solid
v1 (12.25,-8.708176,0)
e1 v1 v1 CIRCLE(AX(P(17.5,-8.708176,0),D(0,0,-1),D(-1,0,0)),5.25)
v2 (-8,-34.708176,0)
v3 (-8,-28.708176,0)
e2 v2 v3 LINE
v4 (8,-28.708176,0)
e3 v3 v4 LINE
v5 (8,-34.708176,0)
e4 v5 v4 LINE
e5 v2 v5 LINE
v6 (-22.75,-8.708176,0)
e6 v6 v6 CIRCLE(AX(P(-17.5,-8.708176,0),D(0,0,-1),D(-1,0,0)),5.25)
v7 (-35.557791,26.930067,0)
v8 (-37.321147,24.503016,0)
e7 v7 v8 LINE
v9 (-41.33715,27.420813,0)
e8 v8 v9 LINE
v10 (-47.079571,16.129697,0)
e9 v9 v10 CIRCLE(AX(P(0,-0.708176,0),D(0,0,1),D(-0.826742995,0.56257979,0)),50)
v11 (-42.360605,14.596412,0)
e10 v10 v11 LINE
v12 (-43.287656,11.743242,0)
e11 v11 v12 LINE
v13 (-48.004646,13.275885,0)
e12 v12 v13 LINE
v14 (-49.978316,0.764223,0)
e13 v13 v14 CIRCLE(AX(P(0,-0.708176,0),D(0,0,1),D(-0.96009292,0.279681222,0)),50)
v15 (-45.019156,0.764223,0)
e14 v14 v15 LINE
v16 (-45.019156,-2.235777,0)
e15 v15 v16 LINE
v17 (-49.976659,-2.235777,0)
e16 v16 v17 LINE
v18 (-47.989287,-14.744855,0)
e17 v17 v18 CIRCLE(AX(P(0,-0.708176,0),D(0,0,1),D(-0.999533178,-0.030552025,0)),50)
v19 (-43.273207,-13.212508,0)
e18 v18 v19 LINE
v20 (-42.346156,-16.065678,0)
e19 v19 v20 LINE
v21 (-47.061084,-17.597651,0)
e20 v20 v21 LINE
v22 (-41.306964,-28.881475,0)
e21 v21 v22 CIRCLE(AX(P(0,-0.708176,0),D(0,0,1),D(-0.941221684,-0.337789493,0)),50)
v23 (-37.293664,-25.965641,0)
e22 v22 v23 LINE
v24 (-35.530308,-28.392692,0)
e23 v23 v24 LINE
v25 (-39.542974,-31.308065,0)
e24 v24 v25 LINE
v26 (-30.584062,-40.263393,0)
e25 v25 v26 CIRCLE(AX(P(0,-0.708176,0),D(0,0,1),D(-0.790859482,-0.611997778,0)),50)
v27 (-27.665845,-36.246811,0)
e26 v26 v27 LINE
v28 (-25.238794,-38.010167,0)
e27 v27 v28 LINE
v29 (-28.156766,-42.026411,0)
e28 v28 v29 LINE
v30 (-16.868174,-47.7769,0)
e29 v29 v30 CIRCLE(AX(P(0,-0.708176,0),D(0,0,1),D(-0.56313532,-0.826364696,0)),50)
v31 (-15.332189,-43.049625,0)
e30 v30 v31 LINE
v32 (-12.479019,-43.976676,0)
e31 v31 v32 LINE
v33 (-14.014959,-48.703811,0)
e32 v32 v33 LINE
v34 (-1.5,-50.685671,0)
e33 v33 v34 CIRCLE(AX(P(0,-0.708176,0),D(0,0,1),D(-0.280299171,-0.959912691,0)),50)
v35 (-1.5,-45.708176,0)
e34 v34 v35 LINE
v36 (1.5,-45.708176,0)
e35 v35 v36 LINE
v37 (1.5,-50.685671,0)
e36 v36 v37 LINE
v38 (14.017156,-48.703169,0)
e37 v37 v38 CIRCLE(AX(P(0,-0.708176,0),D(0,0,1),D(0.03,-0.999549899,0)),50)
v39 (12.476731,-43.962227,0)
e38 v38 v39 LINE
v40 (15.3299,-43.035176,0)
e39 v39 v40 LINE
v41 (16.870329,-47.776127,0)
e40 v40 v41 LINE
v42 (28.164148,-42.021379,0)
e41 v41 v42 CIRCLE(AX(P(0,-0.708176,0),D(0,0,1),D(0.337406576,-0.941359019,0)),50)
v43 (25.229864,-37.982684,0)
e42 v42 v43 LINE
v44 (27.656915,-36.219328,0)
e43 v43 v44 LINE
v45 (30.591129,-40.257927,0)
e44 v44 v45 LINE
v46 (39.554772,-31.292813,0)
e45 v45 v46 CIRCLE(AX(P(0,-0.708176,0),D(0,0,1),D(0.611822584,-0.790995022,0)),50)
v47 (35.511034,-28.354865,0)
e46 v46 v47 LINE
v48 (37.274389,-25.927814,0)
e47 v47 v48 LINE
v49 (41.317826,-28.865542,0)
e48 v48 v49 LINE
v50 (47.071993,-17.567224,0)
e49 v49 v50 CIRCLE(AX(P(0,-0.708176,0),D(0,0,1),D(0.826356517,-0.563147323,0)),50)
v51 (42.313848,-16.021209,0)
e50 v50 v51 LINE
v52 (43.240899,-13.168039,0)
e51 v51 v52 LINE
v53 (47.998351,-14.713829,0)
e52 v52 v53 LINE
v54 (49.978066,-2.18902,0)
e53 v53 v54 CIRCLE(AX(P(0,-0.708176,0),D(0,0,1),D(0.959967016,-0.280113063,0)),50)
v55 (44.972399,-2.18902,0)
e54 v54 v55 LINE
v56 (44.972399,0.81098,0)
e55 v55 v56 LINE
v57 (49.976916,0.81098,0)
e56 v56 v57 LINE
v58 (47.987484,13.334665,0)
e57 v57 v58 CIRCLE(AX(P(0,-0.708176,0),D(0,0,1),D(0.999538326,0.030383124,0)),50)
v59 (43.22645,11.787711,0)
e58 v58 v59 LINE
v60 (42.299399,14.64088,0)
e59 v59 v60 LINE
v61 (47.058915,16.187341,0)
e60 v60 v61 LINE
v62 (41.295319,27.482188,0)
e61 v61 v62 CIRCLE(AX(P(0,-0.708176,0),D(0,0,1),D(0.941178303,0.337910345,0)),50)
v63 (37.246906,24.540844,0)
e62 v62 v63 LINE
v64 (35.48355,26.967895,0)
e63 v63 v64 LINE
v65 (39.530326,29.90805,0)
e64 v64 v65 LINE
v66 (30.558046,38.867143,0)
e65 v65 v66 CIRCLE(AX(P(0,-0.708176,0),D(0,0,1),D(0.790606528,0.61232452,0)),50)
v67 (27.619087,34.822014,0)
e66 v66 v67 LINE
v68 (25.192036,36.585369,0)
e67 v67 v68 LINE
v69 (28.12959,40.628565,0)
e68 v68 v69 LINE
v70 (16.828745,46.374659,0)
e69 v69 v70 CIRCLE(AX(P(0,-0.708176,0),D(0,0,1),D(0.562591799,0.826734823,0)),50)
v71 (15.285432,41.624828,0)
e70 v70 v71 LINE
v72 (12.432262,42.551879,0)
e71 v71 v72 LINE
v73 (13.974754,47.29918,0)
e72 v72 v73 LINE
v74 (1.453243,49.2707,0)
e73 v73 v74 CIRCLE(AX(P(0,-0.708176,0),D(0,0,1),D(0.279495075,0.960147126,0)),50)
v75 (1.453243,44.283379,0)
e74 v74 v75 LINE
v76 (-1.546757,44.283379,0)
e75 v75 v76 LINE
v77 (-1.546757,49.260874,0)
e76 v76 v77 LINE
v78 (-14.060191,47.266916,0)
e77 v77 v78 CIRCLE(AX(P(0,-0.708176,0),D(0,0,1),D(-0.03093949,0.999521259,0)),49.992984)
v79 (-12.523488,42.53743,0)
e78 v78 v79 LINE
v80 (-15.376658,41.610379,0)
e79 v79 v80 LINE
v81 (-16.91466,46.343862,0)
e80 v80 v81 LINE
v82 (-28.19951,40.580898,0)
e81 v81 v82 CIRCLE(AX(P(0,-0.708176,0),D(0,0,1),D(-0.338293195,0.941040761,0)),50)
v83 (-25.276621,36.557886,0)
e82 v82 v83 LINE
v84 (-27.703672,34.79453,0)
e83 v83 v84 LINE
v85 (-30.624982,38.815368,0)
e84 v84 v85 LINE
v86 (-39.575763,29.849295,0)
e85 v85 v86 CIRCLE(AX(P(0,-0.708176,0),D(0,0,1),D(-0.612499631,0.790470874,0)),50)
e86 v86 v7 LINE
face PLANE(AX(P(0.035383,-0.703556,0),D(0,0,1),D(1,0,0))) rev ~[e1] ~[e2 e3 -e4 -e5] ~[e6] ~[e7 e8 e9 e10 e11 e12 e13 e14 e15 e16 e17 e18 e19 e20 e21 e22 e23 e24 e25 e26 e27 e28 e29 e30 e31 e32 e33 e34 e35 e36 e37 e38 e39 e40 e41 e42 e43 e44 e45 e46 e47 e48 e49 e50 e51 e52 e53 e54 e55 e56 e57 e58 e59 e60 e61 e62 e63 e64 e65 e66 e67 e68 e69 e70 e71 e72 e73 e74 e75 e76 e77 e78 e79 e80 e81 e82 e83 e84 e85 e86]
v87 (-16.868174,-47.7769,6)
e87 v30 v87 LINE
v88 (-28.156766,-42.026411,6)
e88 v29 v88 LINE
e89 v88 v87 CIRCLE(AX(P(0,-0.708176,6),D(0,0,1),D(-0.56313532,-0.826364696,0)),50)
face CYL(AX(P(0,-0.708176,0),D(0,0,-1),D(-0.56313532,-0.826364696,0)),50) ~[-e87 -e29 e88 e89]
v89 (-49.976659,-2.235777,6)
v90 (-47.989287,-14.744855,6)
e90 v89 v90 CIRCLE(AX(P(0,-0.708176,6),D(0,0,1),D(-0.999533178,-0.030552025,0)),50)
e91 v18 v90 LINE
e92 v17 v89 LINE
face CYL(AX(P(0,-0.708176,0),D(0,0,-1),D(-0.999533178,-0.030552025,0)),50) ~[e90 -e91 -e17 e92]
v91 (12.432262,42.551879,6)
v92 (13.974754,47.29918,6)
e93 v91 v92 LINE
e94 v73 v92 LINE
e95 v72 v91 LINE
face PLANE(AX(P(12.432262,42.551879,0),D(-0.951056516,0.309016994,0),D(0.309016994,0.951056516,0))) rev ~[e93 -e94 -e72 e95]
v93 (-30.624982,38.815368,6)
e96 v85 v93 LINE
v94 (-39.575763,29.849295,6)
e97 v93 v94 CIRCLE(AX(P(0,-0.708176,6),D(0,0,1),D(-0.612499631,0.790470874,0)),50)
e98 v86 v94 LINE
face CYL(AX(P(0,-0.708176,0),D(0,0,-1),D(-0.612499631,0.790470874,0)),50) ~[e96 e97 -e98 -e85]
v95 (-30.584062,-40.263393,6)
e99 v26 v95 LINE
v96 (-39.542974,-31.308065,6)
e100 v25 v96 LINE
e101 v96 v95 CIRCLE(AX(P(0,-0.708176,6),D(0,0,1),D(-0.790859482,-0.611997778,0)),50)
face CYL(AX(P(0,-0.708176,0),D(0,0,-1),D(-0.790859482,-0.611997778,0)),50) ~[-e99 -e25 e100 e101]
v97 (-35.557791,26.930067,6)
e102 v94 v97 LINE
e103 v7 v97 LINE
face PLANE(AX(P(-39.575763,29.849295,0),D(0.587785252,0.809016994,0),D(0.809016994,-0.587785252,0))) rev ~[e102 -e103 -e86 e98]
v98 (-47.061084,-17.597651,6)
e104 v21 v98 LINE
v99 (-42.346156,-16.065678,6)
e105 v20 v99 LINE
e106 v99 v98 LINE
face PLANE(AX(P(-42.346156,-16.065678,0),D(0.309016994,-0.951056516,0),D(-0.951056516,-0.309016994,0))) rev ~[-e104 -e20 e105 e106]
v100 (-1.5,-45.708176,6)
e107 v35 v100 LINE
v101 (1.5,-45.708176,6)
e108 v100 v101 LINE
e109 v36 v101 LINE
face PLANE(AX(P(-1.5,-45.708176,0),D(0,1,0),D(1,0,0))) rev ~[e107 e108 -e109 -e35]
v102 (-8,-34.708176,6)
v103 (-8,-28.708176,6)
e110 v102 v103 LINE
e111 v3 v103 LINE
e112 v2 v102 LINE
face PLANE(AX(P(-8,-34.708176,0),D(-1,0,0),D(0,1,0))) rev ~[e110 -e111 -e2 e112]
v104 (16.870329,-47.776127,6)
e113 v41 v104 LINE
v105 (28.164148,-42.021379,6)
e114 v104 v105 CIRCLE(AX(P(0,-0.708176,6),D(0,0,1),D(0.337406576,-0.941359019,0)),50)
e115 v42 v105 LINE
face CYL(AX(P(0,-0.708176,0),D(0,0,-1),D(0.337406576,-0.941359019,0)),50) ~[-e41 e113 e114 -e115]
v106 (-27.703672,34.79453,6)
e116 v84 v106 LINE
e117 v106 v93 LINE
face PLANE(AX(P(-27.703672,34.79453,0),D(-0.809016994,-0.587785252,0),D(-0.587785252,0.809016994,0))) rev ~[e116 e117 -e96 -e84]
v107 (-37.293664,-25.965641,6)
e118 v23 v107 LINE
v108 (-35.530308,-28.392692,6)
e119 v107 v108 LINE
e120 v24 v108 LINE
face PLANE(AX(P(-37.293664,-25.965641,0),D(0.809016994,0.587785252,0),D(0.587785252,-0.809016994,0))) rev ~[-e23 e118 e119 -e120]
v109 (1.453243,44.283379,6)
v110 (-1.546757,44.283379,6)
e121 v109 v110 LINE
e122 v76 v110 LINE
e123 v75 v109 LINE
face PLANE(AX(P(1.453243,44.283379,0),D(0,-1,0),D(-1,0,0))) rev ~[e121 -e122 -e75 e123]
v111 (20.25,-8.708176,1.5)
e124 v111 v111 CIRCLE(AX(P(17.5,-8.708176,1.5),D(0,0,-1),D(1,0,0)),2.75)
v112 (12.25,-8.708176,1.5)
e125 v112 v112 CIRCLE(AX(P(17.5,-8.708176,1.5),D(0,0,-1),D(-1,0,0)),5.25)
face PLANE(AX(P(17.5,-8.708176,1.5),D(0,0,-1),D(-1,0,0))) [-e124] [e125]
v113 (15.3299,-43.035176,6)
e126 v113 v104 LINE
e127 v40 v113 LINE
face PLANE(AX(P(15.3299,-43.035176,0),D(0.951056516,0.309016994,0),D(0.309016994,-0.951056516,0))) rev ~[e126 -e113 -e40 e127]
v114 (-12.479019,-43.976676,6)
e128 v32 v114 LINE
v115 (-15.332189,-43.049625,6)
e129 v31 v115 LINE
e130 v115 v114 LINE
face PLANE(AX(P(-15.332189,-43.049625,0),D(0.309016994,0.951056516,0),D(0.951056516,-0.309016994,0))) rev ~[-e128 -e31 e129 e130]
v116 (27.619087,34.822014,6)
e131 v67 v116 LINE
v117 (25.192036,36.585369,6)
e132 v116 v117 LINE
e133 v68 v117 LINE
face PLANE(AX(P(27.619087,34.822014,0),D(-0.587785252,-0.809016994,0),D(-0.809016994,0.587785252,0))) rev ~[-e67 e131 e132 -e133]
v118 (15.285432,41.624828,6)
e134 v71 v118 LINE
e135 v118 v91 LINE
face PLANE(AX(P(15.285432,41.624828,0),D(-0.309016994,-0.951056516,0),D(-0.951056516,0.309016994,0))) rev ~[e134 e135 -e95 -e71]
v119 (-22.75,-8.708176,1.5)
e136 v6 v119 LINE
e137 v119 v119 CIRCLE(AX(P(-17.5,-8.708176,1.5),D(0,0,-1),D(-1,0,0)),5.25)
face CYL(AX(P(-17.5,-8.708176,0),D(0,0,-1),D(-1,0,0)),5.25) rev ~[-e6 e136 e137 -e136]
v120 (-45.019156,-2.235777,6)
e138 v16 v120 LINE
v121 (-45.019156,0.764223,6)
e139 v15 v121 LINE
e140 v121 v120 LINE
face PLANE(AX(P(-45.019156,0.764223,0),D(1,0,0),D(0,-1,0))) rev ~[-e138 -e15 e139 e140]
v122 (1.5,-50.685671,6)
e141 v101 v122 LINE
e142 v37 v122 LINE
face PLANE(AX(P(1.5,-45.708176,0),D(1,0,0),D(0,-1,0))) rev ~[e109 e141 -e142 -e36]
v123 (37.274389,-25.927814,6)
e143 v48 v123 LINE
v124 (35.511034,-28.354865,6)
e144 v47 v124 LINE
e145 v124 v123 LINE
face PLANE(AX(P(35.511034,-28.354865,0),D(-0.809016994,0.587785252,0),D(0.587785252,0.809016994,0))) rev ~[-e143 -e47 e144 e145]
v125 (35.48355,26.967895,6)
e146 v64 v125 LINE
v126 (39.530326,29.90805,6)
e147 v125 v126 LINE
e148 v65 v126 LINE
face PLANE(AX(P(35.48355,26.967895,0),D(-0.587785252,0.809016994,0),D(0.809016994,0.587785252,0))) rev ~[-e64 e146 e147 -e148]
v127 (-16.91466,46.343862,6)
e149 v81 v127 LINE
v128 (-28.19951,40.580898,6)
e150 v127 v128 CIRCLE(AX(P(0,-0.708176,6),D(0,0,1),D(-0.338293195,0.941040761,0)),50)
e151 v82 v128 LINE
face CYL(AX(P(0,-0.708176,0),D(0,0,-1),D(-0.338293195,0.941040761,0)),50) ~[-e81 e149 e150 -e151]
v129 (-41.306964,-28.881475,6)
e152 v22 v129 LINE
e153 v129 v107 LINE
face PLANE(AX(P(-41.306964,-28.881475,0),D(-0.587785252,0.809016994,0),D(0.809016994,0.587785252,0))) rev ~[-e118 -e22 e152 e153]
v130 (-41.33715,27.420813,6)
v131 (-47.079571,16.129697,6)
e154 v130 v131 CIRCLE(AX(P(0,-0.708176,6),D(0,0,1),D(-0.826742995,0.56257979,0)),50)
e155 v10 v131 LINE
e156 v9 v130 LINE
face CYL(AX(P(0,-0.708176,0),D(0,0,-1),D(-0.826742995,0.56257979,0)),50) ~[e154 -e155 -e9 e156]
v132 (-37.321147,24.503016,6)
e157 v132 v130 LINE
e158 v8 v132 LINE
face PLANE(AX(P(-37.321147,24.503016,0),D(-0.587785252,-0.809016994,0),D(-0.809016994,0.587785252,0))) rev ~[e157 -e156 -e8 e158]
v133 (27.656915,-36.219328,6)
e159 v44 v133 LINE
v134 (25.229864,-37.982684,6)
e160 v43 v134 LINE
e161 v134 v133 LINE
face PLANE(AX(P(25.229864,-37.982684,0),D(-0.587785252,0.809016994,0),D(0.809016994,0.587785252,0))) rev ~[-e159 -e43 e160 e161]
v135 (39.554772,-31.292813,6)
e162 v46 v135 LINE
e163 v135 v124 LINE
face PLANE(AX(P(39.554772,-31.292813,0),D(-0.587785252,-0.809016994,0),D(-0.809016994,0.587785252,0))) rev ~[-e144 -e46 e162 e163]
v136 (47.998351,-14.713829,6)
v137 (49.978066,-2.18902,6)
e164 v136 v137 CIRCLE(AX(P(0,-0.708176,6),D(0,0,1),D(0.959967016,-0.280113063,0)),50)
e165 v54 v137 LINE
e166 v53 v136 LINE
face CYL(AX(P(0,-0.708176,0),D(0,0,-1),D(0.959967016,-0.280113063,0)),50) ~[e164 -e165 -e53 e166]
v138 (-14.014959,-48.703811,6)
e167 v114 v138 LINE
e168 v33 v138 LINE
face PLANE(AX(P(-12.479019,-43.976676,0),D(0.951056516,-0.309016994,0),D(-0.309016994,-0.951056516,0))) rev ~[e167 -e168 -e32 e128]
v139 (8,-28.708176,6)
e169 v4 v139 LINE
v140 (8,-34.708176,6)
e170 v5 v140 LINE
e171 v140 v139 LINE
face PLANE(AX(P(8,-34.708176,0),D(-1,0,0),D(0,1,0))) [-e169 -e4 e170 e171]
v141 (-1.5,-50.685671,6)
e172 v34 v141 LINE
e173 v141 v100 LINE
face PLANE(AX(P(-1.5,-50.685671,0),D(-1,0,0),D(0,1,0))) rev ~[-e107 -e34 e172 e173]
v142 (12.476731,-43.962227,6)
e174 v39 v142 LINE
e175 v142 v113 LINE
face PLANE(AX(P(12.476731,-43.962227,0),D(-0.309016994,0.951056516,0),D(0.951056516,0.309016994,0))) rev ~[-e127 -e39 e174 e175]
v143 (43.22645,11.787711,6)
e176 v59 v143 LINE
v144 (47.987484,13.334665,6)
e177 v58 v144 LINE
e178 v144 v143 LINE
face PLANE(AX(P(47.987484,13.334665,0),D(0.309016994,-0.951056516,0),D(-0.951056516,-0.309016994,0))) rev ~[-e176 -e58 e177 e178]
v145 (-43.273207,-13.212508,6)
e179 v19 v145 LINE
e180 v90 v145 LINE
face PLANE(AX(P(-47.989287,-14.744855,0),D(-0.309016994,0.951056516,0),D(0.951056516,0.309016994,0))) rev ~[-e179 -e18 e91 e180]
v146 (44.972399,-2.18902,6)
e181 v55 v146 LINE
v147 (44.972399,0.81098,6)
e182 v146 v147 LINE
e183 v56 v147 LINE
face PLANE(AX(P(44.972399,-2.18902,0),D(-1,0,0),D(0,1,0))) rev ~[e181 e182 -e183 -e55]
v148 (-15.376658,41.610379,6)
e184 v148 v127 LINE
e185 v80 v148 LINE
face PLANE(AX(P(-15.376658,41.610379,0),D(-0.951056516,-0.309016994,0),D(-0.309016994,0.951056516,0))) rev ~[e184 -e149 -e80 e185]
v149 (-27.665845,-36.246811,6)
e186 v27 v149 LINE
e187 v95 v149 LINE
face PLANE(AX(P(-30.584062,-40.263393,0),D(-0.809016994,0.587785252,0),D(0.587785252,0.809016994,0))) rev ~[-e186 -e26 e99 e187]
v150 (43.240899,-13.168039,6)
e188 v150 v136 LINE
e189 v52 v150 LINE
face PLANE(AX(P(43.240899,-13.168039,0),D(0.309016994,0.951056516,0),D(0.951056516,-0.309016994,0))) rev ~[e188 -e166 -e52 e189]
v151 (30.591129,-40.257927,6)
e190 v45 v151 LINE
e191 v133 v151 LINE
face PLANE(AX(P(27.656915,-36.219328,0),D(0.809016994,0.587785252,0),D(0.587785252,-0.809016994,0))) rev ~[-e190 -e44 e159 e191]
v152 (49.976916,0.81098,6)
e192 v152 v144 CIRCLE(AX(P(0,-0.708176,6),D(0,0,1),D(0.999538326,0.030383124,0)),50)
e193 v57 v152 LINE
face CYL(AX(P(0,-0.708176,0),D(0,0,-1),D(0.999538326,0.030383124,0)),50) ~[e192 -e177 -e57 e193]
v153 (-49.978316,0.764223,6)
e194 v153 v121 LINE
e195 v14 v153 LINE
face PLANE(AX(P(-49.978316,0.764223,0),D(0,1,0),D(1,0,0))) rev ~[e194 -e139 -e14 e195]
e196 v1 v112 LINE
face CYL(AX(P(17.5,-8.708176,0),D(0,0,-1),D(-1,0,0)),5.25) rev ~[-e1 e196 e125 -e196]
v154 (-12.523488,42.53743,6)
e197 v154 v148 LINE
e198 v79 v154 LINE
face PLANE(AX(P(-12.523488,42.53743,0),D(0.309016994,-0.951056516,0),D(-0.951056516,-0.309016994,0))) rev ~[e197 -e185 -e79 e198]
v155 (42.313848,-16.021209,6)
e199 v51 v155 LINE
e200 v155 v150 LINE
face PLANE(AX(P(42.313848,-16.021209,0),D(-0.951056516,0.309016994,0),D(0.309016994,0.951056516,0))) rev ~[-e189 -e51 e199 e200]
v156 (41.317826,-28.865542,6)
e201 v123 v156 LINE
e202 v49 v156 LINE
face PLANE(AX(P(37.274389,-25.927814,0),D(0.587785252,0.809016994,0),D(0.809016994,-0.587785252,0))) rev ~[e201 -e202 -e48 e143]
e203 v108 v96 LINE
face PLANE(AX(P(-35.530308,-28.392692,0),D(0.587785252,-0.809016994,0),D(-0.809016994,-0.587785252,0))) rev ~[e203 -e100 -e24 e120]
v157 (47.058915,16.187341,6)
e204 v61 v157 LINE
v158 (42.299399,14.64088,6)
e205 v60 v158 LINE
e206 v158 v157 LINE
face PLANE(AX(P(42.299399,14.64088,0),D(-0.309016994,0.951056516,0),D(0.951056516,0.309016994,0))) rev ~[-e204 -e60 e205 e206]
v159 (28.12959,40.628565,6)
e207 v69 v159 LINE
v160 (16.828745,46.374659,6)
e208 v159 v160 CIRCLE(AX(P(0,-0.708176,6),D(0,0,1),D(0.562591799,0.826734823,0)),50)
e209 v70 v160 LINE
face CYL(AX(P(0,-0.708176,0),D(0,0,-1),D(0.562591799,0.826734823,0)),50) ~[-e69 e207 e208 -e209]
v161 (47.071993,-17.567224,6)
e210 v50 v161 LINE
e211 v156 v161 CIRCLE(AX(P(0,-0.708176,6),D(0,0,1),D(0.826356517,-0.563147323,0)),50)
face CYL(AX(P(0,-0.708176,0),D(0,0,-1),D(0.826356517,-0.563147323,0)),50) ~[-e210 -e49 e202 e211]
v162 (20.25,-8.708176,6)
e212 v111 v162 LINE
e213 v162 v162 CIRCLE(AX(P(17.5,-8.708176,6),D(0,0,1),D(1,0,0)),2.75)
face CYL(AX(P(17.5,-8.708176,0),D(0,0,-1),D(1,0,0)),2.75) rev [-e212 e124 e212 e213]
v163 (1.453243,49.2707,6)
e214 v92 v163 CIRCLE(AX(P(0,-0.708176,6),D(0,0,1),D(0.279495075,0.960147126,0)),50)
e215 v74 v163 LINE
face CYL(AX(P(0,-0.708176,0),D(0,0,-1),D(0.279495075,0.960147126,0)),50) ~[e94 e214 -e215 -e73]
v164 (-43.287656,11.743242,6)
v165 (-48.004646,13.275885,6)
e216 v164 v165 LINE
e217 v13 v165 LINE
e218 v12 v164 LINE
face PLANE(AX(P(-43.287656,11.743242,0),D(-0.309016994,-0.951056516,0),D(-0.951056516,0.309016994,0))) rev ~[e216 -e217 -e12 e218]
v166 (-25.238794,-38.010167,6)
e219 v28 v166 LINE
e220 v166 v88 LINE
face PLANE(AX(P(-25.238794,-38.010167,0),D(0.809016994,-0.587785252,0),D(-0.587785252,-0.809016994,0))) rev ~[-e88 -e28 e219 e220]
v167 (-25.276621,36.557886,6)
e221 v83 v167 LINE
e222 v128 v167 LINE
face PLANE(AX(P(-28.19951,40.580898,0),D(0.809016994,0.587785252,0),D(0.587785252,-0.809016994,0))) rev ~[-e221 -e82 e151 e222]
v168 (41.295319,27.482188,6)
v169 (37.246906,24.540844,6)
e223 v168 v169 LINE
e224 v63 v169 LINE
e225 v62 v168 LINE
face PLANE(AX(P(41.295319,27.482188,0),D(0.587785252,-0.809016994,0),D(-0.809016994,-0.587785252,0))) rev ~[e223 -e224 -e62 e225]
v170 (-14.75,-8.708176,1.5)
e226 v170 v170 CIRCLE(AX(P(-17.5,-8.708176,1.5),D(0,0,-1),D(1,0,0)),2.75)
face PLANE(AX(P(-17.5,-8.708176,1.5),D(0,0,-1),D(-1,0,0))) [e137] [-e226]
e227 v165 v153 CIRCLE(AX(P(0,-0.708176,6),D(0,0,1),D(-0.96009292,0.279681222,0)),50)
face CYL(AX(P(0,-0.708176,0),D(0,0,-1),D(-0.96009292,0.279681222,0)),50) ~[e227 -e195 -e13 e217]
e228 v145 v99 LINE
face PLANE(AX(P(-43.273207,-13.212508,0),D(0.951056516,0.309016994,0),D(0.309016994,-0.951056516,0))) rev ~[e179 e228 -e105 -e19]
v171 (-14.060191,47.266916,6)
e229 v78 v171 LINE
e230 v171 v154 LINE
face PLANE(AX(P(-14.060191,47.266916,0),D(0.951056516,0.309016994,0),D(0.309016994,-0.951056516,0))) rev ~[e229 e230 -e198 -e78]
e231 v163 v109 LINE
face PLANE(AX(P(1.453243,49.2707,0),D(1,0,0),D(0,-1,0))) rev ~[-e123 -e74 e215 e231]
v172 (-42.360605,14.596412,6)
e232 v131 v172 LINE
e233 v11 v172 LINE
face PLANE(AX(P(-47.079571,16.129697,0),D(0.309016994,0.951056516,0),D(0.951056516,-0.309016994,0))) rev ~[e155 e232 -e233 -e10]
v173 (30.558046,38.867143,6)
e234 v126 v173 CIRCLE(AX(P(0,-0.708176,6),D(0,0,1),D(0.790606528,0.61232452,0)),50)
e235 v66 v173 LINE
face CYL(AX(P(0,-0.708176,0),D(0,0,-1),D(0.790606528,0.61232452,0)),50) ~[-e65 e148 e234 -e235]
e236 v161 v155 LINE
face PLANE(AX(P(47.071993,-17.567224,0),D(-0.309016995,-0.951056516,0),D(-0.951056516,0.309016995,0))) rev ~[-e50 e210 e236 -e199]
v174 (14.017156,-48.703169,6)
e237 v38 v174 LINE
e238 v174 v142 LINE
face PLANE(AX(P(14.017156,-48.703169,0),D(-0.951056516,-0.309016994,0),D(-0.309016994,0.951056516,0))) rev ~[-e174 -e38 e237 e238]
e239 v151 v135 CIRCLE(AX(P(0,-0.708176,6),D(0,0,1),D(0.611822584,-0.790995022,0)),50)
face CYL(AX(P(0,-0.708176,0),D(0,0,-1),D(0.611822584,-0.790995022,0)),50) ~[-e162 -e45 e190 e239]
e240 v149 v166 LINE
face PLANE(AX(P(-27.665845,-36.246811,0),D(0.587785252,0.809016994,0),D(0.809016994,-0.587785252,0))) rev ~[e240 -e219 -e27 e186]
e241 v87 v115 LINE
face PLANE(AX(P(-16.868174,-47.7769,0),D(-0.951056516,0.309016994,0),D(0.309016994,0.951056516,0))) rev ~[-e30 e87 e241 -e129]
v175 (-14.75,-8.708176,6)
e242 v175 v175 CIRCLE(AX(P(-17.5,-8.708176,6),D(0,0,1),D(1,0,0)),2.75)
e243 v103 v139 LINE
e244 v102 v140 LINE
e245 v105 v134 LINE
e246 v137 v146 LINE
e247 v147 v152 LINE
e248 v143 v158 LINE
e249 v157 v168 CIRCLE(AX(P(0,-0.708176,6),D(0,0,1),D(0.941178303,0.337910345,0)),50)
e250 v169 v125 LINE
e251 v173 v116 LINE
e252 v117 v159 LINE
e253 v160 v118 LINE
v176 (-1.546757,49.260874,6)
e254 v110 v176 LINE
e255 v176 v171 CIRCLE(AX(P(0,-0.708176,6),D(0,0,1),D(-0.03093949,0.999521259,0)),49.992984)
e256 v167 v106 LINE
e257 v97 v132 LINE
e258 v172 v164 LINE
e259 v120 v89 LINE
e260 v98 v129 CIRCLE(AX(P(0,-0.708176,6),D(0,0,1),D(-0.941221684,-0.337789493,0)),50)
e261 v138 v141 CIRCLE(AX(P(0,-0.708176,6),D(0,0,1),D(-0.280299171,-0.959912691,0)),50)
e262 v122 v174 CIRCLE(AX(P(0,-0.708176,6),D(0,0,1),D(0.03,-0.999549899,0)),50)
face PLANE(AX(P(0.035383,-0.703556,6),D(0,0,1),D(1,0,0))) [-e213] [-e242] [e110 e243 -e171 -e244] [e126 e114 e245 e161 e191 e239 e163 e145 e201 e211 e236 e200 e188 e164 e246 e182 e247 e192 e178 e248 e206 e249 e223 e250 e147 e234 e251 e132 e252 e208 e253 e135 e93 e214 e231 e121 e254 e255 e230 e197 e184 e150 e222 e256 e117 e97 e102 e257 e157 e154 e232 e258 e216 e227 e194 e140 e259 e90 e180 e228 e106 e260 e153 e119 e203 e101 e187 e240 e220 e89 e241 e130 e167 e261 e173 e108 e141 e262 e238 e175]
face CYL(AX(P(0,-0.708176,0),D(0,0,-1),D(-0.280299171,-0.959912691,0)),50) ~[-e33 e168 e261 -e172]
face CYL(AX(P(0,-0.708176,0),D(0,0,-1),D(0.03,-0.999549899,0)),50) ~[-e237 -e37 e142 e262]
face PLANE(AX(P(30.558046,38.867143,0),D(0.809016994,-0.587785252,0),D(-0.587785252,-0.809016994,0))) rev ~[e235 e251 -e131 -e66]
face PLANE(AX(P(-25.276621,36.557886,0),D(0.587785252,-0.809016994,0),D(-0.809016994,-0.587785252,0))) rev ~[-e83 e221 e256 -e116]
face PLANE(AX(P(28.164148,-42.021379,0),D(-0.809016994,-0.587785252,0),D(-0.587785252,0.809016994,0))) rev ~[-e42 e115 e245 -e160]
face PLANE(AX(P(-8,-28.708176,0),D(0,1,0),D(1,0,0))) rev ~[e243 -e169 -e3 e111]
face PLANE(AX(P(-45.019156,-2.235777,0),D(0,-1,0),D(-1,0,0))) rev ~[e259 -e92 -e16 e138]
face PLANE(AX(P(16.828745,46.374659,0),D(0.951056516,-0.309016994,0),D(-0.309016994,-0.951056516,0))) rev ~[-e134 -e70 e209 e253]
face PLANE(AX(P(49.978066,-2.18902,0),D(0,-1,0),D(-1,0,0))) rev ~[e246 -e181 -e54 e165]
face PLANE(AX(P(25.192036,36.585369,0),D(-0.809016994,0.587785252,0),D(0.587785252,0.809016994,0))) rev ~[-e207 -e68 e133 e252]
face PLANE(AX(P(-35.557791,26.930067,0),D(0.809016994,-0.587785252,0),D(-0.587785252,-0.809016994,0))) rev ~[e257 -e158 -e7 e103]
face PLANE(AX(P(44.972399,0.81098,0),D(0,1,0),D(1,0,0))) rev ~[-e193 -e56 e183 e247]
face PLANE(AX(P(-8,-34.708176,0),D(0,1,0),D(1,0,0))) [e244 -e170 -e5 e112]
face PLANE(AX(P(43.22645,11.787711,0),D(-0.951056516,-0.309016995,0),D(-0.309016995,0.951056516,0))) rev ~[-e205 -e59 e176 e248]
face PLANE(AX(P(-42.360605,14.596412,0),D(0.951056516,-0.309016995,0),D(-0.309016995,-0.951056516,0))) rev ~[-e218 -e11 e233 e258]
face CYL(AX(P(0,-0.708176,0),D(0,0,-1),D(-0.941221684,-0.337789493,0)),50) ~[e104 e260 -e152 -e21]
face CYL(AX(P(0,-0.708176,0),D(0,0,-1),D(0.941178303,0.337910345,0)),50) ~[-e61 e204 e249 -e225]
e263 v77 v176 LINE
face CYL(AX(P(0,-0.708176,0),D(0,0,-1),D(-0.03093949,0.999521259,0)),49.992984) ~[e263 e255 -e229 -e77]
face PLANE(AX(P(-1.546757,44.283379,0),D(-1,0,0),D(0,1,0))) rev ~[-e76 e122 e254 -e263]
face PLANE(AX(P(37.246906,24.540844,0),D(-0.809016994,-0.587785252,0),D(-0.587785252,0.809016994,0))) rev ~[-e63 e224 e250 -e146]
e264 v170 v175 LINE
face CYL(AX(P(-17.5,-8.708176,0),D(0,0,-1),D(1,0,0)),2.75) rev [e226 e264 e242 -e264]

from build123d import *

# Parameters (mm, degrees)
SKETCH2_W           = 16
SKETCH2_H           = 6
SKETCH2_R           = 2.75
BOSS_EXTRUDE1_DEPTH = 6
SKETCH3_R           = 5.25
CUT_EXTRUDE1_DEPTH  = 1.5


with BuildPart() as part:
    # Sketch2 → Boss-Extrude1 (new body)
    with BuildSketch(Plane.XY):
        with BuildLine():
            ThreePointArc((-14.014958559, -48.70381072), (-7.820513245, -50.092784824), (-1.5, -50.685671098))
            Line((-1.5, -50.685671098), (-1.5, -45.708176163))
            Line((-1.5, -45.708176163), (1.5, -45.708176163))
            Line((1.5, -45.708176163), (1.5, -50.685671098))
            ThreePointArc((1.5, -50.685671098), (7.821643905, -50.09260576), (14.017156267, -48.703168924))
            Line((14.017156267, -48.703168924), (12.476730902, -43.962227135))
            Line((12.476730902, -43.962227135), (15.32990045, -43.035176152))
            Line((15.32990045, -43.035176152), (16.870328795, -47.776127109))
            ThreePointArc((16.870328795, -47.776127109), (22.700337229, -45.258088505), (28.164148211, -42.021379325))
            Line((28.164148211, -42.021379325), (25.229863981, -37.982683562))
            Line((25.229863981, -37.982683562), (27.656914964, -36.219327805))
            Line((27.656914964, -36.219327805), (30.591129228, -40.257927268))
            ThreePointArc((30.591129228, -40.257927268), (35.358240772, -36.060613271), (39.55477218, -31.292812793))
            Line((39.55477218, -31.292812793), (35.511033717, -28.354864828))
            Line((35.511033717, -28.354864828), (37.274389474, -25.927813845))
            Line((37.274389474, -25.927813845), (41.317825829, -28.865542317))
            ThreePointArc((41.317825829, -28.865542317), (44.554494815, -23.399517942), (47.071992795, -17.567224011))
            Line((47.071992795, -17.567224011), (42.313847582, -16.021208913))
            Line((42.313847582, -16.021208913), (43.240898565, -13.168039364))
            Line((43.240898565, -13.168039364), (47.998350807, -14.713829302))
            ThreePointArc((47.998350807, -14.713829302), (49.386863483, -8.514437454), (49.978066205, -2.189019992))
            Line((49.978066205, -2.189019992), (44.972398757, -2.189019992))
            Line((44.972398757, -2.189019992), (44.972398757, 0.810980008))
            Line((44.972398757, 0.810980008), (49.976916317, 0.810980008))
            ThreePointArc((49.976916317, 0.810980008), (49.380832331, 7.136146516), (47.987483994, 13.334664716))
            Line((47.987483994, 13.334664716), (43.22644973, 11.787710909))
            Line((43.22644973, 11.787710909), (42.299398746, 14.640880458))
            Line((42.299398746, 14.640880458), (47.058915168, 16.187341088))
            ThreePointArc((47.058915168, 16.187341088), (44.536626084, 22.0182168), (41.295318935, 27.482188044))
            Line((41.295318935, 27.482188044), (37.246906156, 24.540843989))
            Line((37.246906156, 24.540843989), (35.483550399, 26.967894972))
            Line((35.483550399, 26.967894972), (39.530326401, 29.908049839))
            ThreePointArc((39.530326401, 29.908049839), (35.329326435, 34.673156396), (30.558045552, 38.86714256))
            Line((30.558045552, 38.86714256), (27.619087422, 34.822013725))
            Line((27.619087422, 34.822013725), (25.192036439, 36.585369482))
            Line((25.192036439, 36.585369482), (28.129589934, 40.628565002))
            ThreePointArc((28.129589934, 40.628565002), (22.66202489, 43.861237429), (16.828745179, 46.374658668))
            Line((16.828745179, 46.374658668), (15.285431508, 41.62482759))
            Line((15.285431508, 41.62482759), (12.432261959, 42.551878573))
            Line((12.432261959, 42.551878573), (13.974753738, 47.299180128))
            ThreePointArc((13.974753738, 47.299180128), (7.776727495, 48.683346485), (1.453242586, 49.270700235))
            Line((1.453242586, 49.270700235), (1.453242586, 44.283378765))
            Line((1.453242586, 44.283378765), (-1.546757414, 44.283378765))
            Line((-1.546757414, 44.283378765), (-1.546757414, 49.2608737))
            ThreePointArc((-1.546757414, 49.2608737), (-7.866904098, 48.661958763), (-14.060191394, 47.266915506))
            Line((-14.060191394, 47.266915506), (-12.523488315, 42.537429737))
            Line((-12.523488315, 42.537429737), (-15.376657864, 41.610378754))
            Line((-15.376657864, 41.610378754), (-16.914659767, 46.343861891))
            ThreePointArc((-16.914659767, 46.343861891), (-22.740383136, 43.821308169), (-28.199510335, 40.580897657))
            Line((-28.199510335, 40.580897657), (-25.276621395, 36.557886164))
            Line((-25.276621395, 36.557886164), (-27.703672378, 34.794530407))
            Line((-27.703672378, 34.794530407), (-30.624981542, 38.815367524))
            ThreePointArc((-30.624981542, 38.815367524), (-35.385501758, 34.616974444), (-39.575762572, 29.849294558))
            Line((-39.575762572, 29.849294558), (-35.557791131, 26.93006743))
            Line((-35.557791131, 26.93006743), (-37.321146887, 24.503016447))
            Line((-37.321146887, 24.503016447), (-41.33714976, 27.420813327))
            ThreePointArc((-41.33714976, 27.420813327), (-44.567381262, 21.957845266), (-47.079571363, 16.129696634))
            Line((-47.079571363, 16.129696634), (-42.360604995, 14.596411515))
            Line((-42.360604995, 14.596411515), (-43.287655979, 11.743241967))
            Line((-43.287655979, 11.743241967), (-48.004645978, 13.275884924))
            ThreePointArc((-48.004645978, 13.275884924), (-49.389276358, 7.082804571), (-49.978315717, 0.764222594))
            Line((-49.978315717, 0.764222594), (-45.01915617, 0.764222594))
            Line((-45.01915617, 0.764222594), (-45.01915617, -2.235777406))
            Line((-45.01915617, -2.235777406), (-49.976658896, -2.235777406))
            ThreePointArc((-49.976658896, -2.235777406), (-49.380673152, -8.553500826), (-47.989286669, -14.744855434))
            Line((-47.989286669, -14.744855434), (-43.273207143, -13.212508307))
            Line((-43.273207143, -13.212508307), (-42.34615616, -16.065677856))
            Line((-42.34615616, -16.065677856), (-47.06108419, -17.597650839))
            ThreePointArc((-47.06108419, -17.597650839), (-44.542778803, -23.422507686), (-41.306963736, -28.881474636))
            Line((-41.306963736, -28.881474636), (-37.293663569, -25.965641387))
            Line((-37.293663569, -25.965641387), (-35.530307812, -28.39269237))
            Line((-35.530307812, -28.39269237), (-39.542974081, -31.308065065))
            ThreePointArc((-39.542974081, -31.308065065), (-35.348264075, -36.07058879), (-30.584062086, -40.263392586))
            Line((-30.584062086, -40.263392586), (-27.665844836, -36.246811123))
            Line((-27.665844836, -36.246811123), (-25.238793853, -38.01016688))
            Line((-25.238793853, -38.01016688), (-28.156765996, -42.026410983))
            ThreePointArc((-28.156765996, -42.026410983), (-22.695337069, -45.260635975), (-16.868173537, -47.776899552))
            Line((-16.868173537, -47.776899552), (-15.332188921, -43.049624988))
            Line((-15.332188921, -43.049624988), (-12.479019372, -43.976675971))
            Line((-12.479019372, -43.976675971), (-14.014958559, -48.70381072))
        make_face()
        with Locations((0, -31.708176163)):
            Rectangle(SKETCH2_W, SKETCH2_H, mode=Mode.SUBTRACT)
        with Locations((-17.5, -8.708176163)):
            Circle(SKETCH2_R, mode=Mode.SUBTRACT)
        with Locations((17.5, -8.708176163)):
            Circle(SKETCH2_R, mode=Mode.SUBTRACT)
    extrude(amount=BOSS_EXTRUDE1_DEPTH)

    # Sketch3 → Cut-Extrude1 (cut)
    with BuildSketch(Plane(origin=(0, 0, 0), x_dir=(-1, 0, 0), z_dir=(0, 0, -1))):
        with Locations((-17.5, -8.708176163)):
            Circle(SKETCH3_R)
        with Locations((17.5, -8.708176163)):
            Circle(SKETCH3_R)
    extrude(amount=-CUT_EXTRUDE1_DEPTH, mode=Mode.SUBTRACT)


solid = part.part
